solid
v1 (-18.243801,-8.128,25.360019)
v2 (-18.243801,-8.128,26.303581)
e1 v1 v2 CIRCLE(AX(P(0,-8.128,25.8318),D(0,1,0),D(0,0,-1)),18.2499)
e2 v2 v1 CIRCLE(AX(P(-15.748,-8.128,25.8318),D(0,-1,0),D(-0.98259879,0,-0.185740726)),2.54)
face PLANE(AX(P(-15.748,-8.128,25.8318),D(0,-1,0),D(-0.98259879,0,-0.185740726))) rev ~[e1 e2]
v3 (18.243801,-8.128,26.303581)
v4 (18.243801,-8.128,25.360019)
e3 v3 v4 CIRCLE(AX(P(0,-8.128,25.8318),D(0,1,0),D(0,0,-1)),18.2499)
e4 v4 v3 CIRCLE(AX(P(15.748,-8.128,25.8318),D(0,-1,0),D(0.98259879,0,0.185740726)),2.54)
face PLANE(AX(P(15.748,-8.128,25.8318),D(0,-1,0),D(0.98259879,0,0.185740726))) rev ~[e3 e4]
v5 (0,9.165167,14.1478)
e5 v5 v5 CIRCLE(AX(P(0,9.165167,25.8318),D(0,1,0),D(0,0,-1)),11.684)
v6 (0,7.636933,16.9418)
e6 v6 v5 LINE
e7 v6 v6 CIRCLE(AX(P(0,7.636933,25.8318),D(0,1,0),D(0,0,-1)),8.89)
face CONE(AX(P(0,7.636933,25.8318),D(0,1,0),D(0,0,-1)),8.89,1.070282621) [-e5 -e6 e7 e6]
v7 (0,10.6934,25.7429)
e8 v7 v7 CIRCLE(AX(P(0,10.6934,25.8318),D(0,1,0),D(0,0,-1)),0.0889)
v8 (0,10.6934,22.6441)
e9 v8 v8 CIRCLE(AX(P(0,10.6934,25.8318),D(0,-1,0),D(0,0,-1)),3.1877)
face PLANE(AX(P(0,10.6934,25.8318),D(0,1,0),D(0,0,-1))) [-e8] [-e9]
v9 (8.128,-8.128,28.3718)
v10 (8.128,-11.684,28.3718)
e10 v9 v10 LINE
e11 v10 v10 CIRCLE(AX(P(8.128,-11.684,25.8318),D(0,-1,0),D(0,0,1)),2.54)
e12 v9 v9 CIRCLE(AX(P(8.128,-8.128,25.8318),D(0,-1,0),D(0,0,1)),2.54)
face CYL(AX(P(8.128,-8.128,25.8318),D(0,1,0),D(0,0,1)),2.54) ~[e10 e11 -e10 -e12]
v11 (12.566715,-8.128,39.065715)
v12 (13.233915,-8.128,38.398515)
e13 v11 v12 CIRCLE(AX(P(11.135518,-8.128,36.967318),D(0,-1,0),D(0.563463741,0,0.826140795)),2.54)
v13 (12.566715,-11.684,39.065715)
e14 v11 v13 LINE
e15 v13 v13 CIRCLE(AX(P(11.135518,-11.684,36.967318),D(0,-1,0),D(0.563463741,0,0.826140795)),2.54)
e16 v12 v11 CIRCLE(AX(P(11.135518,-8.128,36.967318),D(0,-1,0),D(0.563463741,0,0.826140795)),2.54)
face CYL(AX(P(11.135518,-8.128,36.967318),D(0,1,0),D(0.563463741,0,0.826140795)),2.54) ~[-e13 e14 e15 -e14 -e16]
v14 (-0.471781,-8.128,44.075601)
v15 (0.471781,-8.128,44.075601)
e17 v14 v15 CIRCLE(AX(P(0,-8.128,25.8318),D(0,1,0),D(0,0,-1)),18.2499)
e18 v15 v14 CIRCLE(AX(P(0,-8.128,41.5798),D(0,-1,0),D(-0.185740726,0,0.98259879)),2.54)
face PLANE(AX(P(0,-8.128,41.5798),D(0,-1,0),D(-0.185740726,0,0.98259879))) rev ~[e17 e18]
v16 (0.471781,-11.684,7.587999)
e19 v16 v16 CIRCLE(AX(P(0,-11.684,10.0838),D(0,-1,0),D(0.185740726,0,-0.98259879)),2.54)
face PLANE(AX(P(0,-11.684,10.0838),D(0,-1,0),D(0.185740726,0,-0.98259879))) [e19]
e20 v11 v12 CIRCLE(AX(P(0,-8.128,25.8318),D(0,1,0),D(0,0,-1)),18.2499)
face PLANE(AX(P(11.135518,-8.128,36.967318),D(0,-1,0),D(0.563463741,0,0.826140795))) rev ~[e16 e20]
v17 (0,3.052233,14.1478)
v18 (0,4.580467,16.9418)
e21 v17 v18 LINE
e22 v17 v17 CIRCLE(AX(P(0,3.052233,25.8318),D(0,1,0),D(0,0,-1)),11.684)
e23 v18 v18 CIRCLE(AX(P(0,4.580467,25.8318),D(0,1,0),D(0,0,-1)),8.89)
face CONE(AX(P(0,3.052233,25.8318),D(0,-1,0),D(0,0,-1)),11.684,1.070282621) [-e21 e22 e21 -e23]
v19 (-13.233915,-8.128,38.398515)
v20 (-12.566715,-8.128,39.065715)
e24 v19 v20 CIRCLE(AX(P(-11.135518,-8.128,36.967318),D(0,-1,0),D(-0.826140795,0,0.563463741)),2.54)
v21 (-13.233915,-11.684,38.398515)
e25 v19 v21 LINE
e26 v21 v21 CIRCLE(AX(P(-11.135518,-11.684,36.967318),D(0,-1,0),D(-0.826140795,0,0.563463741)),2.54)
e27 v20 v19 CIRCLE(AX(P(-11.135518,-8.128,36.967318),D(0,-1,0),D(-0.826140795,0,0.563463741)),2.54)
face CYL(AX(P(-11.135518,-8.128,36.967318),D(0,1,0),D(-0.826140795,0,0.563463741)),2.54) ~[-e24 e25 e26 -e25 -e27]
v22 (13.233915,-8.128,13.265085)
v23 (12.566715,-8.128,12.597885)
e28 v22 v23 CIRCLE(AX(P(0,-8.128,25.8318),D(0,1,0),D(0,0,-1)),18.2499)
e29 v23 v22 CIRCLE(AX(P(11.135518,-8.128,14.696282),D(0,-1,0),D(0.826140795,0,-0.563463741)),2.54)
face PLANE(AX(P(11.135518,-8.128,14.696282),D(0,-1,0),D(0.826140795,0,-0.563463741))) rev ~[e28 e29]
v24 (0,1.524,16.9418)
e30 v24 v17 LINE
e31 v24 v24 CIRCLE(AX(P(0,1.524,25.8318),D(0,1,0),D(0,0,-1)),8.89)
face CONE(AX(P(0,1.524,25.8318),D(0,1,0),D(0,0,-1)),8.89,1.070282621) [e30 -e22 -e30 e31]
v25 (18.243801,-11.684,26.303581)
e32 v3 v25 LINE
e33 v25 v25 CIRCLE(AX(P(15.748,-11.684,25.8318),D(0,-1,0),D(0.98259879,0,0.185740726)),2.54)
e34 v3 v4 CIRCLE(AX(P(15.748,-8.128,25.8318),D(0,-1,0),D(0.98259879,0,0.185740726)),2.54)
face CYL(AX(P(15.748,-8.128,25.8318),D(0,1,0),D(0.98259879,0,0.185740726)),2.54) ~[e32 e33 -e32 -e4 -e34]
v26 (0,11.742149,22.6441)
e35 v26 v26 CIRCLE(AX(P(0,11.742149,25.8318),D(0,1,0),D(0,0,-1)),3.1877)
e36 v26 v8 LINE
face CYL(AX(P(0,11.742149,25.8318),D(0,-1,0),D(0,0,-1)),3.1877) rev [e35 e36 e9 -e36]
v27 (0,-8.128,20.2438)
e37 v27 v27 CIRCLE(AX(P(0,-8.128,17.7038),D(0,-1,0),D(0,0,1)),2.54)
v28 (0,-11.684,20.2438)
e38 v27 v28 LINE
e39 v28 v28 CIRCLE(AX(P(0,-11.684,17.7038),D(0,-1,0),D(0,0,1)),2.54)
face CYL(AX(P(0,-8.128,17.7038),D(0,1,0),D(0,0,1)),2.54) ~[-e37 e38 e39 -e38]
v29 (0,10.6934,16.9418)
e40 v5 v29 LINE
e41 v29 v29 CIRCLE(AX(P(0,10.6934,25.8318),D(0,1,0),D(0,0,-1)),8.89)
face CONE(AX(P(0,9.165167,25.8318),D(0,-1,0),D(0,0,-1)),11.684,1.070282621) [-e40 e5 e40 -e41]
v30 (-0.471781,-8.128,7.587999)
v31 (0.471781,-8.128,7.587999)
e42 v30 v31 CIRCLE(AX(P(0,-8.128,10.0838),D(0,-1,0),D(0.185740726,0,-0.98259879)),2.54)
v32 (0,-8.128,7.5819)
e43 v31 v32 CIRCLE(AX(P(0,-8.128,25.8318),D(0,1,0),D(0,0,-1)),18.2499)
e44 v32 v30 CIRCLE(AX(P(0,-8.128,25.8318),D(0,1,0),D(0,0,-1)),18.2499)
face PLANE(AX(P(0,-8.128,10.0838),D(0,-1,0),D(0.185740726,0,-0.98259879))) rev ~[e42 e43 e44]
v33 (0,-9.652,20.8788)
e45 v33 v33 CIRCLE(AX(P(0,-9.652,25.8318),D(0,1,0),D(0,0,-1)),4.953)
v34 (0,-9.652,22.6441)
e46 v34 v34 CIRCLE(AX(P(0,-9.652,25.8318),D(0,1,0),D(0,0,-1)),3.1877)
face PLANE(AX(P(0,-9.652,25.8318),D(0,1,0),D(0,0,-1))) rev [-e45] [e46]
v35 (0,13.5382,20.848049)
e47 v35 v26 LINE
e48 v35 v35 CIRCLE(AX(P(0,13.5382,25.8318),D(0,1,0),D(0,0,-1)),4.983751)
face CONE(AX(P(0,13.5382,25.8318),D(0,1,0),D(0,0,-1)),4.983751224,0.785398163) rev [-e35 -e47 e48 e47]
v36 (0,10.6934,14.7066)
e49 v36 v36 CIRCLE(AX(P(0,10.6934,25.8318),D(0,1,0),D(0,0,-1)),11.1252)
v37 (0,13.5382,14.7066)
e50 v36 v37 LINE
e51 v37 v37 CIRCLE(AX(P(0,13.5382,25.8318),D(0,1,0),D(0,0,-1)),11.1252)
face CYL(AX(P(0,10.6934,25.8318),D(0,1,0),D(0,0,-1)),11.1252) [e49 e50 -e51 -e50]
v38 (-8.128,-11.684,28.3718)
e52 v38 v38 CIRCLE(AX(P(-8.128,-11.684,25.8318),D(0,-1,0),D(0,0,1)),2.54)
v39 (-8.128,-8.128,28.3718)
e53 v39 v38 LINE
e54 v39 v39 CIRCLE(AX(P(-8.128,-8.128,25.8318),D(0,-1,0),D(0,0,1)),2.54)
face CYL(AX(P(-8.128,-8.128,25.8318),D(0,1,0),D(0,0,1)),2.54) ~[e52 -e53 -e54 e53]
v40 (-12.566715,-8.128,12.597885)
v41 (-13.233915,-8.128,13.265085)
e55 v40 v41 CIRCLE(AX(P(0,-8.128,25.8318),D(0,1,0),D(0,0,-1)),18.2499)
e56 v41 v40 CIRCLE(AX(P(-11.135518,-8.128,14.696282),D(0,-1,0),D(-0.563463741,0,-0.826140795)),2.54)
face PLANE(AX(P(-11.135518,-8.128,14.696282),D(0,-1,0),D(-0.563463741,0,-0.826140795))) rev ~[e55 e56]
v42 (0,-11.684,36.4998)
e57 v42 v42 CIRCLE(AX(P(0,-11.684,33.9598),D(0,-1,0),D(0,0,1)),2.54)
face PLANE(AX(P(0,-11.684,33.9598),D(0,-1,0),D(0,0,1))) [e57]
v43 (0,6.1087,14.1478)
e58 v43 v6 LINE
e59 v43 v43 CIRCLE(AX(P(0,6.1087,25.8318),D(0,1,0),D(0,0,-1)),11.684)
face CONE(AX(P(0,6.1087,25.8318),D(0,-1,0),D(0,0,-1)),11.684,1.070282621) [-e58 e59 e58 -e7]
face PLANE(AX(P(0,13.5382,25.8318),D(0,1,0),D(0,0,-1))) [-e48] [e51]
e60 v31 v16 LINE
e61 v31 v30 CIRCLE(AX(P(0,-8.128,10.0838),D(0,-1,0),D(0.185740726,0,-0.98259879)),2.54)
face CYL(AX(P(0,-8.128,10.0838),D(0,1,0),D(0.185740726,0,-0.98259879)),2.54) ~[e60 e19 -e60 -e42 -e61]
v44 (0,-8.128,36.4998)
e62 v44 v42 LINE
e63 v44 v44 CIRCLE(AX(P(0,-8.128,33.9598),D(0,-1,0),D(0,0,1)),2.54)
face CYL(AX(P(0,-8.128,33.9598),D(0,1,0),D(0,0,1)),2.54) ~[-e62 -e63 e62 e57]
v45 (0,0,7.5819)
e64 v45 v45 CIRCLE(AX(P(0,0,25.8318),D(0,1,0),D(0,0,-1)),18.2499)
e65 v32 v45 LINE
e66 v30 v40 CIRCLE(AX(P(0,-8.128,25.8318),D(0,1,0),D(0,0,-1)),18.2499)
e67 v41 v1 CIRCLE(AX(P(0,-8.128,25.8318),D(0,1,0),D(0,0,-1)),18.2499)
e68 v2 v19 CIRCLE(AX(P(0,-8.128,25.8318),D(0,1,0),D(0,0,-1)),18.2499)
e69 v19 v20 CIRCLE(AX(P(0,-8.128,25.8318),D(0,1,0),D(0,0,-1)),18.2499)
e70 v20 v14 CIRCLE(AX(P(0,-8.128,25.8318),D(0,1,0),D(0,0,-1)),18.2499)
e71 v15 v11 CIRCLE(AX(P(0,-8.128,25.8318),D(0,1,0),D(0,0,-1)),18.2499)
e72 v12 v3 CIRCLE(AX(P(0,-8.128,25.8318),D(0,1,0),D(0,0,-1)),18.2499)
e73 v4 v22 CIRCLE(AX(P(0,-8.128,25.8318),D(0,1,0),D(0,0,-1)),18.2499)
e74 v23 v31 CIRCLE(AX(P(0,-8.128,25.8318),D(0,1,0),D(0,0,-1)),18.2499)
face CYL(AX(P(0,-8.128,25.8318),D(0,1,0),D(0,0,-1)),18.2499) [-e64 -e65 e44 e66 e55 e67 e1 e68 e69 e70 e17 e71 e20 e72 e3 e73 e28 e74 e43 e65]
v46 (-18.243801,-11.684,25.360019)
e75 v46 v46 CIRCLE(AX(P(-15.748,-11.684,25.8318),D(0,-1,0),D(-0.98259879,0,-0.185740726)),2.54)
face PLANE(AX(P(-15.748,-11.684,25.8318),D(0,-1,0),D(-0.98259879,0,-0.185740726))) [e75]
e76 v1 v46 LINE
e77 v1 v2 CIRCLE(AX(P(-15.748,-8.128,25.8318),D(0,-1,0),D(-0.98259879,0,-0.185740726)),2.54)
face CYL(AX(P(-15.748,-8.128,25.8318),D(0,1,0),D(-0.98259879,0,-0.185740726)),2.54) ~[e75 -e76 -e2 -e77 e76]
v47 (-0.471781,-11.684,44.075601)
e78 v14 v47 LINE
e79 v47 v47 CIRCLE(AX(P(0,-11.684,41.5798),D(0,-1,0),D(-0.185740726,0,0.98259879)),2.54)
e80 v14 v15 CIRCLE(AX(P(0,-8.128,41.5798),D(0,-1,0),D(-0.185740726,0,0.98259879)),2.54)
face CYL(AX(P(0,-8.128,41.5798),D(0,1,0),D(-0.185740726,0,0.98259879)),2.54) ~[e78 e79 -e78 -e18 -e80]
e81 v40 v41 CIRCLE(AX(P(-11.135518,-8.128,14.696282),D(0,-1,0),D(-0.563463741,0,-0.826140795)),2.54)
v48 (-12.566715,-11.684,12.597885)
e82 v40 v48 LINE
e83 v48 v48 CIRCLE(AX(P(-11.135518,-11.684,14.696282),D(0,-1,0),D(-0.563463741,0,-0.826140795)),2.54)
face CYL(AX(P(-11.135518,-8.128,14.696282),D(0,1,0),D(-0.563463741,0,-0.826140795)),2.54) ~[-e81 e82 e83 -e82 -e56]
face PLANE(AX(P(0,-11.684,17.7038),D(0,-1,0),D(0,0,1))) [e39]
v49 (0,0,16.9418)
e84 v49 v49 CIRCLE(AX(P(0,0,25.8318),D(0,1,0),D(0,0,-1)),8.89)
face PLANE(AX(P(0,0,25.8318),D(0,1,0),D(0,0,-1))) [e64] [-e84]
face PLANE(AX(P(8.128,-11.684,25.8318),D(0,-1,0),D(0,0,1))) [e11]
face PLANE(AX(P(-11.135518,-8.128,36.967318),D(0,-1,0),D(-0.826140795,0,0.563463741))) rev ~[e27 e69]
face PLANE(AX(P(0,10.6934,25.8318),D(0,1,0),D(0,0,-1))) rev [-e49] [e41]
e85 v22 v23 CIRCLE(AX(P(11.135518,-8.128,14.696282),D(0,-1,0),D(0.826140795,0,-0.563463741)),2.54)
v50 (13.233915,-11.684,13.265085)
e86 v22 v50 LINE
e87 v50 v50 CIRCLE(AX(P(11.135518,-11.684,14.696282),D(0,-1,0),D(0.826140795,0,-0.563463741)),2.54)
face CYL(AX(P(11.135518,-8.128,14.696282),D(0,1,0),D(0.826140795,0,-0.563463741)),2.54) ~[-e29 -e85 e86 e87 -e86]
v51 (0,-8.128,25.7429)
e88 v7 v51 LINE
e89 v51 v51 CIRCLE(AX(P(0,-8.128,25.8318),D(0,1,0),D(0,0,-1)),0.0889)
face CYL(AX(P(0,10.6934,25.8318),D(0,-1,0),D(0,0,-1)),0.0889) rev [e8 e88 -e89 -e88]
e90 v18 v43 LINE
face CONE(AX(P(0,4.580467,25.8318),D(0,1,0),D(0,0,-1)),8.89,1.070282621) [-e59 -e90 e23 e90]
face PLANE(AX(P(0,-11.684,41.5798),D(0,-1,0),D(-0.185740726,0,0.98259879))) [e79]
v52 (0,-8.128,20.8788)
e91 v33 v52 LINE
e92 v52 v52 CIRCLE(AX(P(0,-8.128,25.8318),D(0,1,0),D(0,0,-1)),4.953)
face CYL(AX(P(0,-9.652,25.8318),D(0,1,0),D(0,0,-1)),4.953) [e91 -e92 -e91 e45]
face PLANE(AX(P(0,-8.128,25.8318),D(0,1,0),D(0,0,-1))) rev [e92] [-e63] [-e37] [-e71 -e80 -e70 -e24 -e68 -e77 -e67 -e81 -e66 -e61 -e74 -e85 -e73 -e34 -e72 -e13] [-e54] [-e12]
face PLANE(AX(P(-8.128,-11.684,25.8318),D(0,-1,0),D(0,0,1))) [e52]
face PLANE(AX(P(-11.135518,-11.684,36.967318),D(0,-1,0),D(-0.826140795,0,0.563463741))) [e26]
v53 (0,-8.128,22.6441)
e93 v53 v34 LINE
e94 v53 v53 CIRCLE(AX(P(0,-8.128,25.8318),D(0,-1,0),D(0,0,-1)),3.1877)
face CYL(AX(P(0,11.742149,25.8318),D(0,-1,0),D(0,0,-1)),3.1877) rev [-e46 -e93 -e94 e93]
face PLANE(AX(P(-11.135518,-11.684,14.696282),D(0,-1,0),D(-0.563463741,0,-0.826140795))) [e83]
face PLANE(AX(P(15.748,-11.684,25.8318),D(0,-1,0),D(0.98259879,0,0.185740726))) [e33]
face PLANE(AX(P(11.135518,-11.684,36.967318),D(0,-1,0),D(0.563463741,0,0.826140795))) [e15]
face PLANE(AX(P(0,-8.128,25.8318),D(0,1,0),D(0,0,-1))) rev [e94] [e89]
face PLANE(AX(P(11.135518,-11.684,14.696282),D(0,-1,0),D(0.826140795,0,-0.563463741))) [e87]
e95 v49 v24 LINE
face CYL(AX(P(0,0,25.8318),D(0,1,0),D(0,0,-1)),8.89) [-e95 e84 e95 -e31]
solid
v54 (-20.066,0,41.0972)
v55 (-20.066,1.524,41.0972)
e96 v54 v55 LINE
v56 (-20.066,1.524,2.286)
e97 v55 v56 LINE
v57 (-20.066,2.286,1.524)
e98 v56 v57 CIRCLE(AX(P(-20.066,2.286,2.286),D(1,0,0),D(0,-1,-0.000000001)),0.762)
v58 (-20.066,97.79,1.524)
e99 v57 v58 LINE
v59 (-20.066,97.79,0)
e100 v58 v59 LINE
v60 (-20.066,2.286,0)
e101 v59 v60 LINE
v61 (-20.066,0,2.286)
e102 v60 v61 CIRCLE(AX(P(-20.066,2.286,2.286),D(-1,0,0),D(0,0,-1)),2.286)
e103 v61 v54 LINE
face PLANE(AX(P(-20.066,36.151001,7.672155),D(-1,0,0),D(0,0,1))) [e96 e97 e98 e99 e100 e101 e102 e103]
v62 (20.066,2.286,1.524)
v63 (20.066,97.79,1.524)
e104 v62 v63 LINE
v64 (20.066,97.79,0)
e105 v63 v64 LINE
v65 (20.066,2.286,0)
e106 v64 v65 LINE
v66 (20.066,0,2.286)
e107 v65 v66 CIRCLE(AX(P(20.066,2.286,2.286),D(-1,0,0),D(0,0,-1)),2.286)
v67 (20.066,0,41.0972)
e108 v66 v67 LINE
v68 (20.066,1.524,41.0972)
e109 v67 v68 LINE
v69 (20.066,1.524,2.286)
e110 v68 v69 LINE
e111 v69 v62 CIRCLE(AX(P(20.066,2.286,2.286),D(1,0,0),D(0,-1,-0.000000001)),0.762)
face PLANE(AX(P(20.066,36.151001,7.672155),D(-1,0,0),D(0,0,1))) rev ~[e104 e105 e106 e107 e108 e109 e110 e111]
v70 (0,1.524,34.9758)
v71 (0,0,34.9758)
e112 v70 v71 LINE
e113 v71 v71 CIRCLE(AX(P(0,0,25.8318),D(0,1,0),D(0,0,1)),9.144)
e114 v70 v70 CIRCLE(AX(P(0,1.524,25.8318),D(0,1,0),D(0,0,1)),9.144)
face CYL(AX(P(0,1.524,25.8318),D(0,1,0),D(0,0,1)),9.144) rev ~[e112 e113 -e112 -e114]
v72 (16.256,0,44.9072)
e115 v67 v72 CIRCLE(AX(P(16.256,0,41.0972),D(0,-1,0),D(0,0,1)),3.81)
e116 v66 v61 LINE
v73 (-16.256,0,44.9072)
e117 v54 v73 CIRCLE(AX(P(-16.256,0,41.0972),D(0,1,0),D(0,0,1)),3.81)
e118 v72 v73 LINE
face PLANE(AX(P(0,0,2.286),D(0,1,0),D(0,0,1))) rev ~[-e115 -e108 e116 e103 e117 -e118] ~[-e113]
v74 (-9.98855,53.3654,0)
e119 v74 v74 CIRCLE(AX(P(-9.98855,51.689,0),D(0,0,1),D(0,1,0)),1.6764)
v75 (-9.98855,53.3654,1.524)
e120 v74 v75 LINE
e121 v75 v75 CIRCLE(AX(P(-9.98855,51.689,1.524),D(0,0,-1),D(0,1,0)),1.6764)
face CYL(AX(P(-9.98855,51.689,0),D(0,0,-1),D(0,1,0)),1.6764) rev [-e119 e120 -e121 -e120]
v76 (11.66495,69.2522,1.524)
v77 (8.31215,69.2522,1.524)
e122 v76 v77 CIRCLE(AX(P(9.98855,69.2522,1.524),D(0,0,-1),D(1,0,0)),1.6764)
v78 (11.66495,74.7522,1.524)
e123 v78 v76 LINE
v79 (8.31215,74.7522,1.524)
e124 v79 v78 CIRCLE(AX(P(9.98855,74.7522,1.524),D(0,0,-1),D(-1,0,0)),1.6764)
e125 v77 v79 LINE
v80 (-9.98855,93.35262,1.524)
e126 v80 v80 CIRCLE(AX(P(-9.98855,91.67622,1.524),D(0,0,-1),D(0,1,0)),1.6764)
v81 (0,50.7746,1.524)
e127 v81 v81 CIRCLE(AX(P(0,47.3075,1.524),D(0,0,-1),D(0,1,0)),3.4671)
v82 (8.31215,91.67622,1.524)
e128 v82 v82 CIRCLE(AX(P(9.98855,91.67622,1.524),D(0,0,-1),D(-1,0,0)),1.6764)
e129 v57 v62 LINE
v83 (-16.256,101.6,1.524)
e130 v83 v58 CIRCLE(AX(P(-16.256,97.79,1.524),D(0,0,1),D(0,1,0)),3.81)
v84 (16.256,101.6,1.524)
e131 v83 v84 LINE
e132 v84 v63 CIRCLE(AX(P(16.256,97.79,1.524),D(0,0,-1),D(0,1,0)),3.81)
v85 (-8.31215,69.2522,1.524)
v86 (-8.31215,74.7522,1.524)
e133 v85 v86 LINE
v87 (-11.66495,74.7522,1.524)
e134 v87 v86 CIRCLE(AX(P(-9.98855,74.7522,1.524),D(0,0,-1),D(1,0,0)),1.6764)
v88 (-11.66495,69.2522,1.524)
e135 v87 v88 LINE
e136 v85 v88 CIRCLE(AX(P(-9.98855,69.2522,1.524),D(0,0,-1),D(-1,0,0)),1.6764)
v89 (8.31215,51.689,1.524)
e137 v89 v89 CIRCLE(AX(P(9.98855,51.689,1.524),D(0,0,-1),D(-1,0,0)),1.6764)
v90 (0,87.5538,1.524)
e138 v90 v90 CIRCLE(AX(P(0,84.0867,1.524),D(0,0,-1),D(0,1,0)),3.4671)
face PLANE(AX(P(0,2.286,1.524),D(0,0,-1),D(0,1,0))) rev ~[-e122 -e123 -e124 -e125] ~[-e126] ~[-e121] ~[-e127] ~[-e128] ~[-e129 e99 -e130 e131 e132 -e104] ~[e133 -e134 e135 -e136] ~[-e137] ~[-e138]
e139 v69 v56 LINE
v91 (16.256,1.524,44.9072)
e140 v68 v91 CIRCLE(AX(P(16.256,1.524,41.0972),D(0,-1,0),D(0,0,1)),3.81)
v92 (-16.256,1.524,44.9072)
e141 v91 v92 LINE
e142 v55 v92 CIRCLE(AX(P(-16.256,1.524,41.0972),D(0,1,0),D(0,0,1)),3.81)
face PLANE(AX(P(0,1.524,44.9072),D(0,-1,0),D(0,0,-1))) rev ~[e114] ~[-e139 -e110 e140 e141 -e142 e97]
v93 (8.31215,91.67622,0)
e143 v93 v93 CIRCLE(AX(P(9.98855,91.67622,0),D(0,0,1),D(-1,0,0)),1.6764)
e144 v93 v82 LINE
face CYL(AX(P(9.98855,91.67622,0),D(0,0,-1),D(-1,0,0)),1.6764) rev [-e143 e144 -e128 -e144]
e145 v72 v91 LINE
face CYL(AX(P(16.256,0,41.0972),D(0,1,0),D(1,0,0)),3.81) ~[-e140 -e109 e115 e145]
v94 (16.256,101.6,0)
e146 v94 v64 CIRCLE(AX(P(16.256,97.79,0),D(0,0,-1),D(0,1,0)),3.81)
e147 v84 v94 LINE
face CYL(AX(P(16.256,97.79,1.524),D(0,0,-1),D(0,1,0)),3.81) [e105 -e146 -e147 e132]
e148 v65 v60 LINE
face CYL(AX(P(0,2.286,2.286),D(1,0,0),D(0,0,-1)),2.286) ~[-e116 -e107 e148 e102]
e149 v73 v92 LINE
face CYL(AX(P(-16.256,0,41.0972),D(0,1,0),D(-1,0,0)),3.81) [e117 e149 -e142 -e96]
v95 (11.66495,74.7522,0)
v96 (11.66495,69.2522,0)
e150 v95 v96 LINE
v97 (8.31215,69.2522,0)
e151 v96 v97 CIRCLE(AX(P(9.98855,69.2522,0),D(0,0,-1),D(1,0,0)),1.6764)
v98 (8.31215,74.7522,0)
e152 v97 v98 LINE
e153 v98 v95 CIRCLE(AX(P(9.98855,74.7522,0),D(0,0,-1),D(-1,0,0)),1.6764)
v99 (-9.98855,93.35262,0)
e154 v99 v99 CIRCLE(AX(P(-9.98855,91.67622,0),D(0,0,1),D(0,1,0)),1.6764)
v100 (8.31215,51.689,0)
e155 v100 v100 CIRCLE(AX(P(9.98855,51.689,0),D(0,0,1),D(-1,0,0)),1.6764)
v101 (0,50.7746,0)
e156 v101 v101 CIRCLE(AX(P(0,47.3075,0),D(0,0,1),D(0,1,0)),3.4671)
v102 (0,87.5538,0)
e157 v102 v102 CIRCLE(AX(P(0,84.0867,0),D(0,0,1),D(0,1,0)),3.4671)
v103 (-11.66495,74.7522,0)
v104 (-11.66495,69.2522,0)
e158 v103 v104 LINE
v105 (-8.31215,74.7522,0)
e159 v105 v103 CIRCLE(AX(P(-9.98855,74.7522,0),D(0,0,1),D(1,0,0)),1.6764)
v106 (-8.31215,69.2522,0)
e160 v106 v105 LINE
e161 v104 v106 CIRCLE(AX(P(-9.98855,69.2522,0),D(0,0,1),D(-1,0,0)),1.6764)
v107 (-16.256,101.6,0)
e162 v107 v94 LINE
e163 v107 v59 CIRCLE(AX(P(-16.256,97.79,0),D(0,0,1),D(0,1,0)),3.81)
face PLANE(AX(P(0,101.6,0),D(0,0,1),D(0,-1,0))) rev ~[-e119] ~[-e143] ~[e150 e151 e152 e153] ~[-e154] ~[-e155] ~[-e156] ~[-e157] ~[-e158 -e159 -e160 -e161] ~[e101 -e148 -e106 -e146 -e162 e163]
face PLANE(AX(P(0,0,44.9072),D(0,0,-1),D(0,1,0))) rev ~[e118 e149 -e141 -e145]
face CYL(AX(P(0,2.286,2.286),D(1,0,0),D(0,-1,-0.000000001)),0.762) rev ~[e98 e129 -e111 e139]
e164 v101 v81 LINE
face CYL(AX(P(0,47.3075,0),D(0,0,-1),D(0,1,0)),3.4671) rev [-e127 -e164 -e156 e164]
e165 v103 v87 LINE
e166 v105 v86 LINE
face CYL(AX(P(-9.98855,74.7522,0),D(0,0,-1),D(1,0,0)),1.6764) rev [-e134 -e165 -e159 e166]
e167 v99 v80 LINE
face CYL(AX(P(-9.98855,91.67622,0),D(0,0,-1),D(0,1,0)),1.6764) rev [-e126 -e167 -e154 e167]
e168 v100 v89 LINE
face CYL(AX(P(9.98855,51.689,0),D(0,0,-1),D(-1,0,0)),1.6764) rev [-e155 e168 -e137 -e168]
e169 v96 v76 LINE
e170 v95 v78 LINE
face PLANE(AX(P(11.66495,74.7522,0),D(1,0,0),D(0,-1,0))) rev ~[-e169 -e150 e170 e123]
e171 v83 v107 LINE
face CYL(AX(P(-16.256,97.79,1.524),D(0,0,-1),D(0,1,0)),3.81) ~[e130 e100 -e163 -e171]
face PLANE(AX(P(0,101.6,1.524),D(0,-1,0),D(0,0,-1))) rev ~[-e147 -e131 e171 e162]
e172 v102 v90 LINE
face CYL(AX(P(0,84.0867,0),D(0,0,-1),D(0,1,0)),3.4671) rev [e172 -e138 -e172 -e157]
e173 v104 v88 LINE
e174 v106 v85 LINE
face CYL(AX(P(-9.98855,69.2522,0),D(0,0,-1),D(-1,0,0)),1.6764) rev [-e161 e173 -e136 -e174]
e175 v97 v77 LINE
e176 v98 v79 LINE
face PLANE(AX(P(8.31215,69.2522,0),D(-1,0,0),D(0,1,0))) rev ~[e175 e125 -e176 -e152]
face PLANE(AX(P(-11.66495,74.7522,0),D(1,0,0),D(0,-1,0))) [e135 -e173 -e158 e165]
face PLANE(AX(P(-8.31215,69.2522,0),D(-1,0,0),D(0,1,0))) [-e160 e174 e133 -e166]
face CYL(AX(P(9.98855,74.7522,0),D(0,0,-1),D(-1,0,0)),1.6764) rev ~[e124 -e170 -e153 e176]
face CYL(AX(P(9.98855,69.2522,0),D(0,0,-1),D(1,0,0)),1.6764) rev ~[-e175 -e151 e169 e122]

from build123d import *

# Parameters (mm, degrees)
EXTRUDE_THIN1_DEPTH = 20.066
SKETCH5_R           = 1.6764
SKETCH5_R_2         = 3.4671
EXTRUDE3_DEPTH      = 113.879851913
SKETCH6_R           = 9.144
EXTRUDE4_DEPTH      = 112.510119468
SKETCH9_R           = 2.54
EXTRUDE5_DEPTH      = 3.556
CIRPATTERN1_COUNT   = 8
FILLET1_R           = 3.81
SKETCH11_R          = 2.54
BOSS_EXTRUDE1_DEPTH = 3.556


with BuildPart() as part:
    # Sketch1 → Extrude-Thin1 (new, symmetric)
    with BuildSketch(Plane(origin=(0, 0, 0), x_dir=(0, 0, -1), z_dir=(1, 0, 0))):
        with BuildLine():
            Line((0, 101.6), (0, 2.286))
            ThreePointArc((0, 2.286), (-0.669553898, 0.669553898), (-2.286, 0))
            Line((-2.286, 0), (-44.9072, 0))
            Line((-44.9072, 0), (-44.9072, 1.524))
            Line((-44.9072, 1.524), (-2.286, 1.524))
            ThreePointArc((-2.286, 1.524), (-1.747184633, 1.747184633), (-1.524, 2.286))
            Line((-1.524, 2.286), (-1.524, 101.6))
            Line((-1.524, 101.6), (0, 101.6))
        make_face()
    extrude(amount=EXTRUDE_THIN1_DEPTH, both=True)

    # Sketch5 → Extrude3 (cut, through all)
    with BuildSketch(Plane.XY):
        with Locations((-9.98855, 91.67622)):
            Circle(SKETCH5_R)
        with Locations((-9.98855, 51.689)):
            Circle(SKETCH5_R)
        with Locations((9.98855, 51.689)):
            Circle(SKETCH5_R)
        with Locations((9.98855, 91.67622)):
            Circle(SKETCH5_R)
        with Locations((0, 84.0867)):
            Circle(SKETCH5_R_2)
        with Locations((0, 47.3075)):
            Circle(SKETCH5_R_2)
        with BuildLine():
            Line((-11.66495, 74.7522), (-11.66495, 69.2522))
            ThreePointArc((-11.66495, 69.2522), (-9.98855, 67.5758), (-8.31215, 69.2522))
            Line((-8.31215, 69.2522), (-8.31215, 74.7522))
            ThreePointArc((-8.31215, 74.7522), (-9.98855, 76.4286), (-11.66495, 74.7522))
        make_face()
        with BuildLine():
            Line((11.66495, 74.7522), (11.66495, 69.2522))
            ThreePointArc((11.66495, 69.2522), (9.98855, 67.5758), (8.31215, 69.2522))
            Line((8.31215, 69.2522), (8.31215, 74.7522))
            ThreePointArc((8.31215, 74.7522), (9.98855, 76.4286), (11.66495, 74.7522))
        make_face()
    extrude(amount=EXTRUDE3_DEPTH, mode=Mode.SUBTRACT)

    # Sketch6 → Extrude4 (cut, through all)
    with BuildSketch(Plane(origin=(0, 1.524, 0), x_dir=(1, 0, 0), z_dir=(0, 1, 0))):
        with Locations((0, -25.8318)):
            Circle(SKETCH6_R)
    extrude(amount=-EXTRUDE4_DEPTH, mode=Mode.SUBTRACT)

    # Fillet1
    fillet1_edges = [part.edges().sort_by_distance(p)[0] for p in [
        (-20.066, 101.6, 0.762),
        (20.066, 101.6, 0.762),
        (-20.066, 0.762, 44.9072),
        (20.066, 0.762, 44.9072),
    ]]
    fillet(fillet1_edges, radius=FILLET1_R)


with BuildPart() as body_2:
    # Sketch8 → Revolve1 (revolve)
    with BuildSketch(Plane(origin=(0, 0, 0), x_dir=(0, 0, -1), z_dir=(1, 0, 0))):
        Polygon((-25.9207, 10.6934), (-25.9207, -8.128), (-44.0817, -8.128), (-44.0817, 0), (-34.7218, 0), (-34.7218, 1.524), (-37.5158, 3.052233333), (-34.7218, 4.580466667), (-37.5158, 6.1087), (-34.7218, 7.636933333), (-37.5158, 9.165166667), (-34.7218, 10.6934), align=None)
    revolve(axis=Axis((0, -2.765173819, 25.8318), (0, 1, 0)))

    # Sketch9 → Extrude5 (add)
    with BuildSketch(Plane.XZ.offset(8.128)):
        with Locations((0, 41.5798)):
            Circle(SKETCH9_R)
    extrude5 = extrude(amount=EXTRUDE5_DEPTH)

    # CirPattern1: Extrude5 ×8 about axis
    cirpattern1_axis = Axis((0, 0, 25.8318), (0, 1, 0))
    for i in range(1, CIRPATTERN1_COUNT):
        add(extrude5.rotate(cirpattern1_axis, i * 360 / CIRPATTERN1_COUNT))



with BuildPart() as body_3:
    # Sketch10 → Revolve2 (revolve)
    with BuildSketch(Plane(origin=(0, 0, 0), x_dir=(0, 0, -1), z_dir=(1, 0, 0))):
        Polygon((-36.957, 13.5382), (-30.815551224, 13.5382), (-29.0195, 11.742148776), (-29.0195, -9.652), (-30.7848, -9.652), (-30.7848, 10.6934), (-36.957, 10.6934), align=None)
    revolve(axis=Axis((0, 0.950602296, 25.8318), (0, 1, 0)))


with BuildPart() as body_2_1:
    add(body_2.part)

    add(body_3.part)  # Boss-Extrude1 merges body 3
    # Sketch11 → Boss-Extrude1 (add)
    with BuildSketch(Plane.XZ.offset(8.128)):
        with Locations((-8.128, 25.8318)):
            Circle(SKETCH11_R)
        with Locations((0, 33.9598)):
            Circle(SKETCH11_R)
        with Locations((8.128, 25.8318)):
            Circle(SKETCH11_R)
        with Locations((0, 17.7038)):
            Circle(SKETCH11_R)
    extrude(amount=BOSS_EXTRUDE1_DEPTH)


solid = Compound([part.part, body_2_1.part])
